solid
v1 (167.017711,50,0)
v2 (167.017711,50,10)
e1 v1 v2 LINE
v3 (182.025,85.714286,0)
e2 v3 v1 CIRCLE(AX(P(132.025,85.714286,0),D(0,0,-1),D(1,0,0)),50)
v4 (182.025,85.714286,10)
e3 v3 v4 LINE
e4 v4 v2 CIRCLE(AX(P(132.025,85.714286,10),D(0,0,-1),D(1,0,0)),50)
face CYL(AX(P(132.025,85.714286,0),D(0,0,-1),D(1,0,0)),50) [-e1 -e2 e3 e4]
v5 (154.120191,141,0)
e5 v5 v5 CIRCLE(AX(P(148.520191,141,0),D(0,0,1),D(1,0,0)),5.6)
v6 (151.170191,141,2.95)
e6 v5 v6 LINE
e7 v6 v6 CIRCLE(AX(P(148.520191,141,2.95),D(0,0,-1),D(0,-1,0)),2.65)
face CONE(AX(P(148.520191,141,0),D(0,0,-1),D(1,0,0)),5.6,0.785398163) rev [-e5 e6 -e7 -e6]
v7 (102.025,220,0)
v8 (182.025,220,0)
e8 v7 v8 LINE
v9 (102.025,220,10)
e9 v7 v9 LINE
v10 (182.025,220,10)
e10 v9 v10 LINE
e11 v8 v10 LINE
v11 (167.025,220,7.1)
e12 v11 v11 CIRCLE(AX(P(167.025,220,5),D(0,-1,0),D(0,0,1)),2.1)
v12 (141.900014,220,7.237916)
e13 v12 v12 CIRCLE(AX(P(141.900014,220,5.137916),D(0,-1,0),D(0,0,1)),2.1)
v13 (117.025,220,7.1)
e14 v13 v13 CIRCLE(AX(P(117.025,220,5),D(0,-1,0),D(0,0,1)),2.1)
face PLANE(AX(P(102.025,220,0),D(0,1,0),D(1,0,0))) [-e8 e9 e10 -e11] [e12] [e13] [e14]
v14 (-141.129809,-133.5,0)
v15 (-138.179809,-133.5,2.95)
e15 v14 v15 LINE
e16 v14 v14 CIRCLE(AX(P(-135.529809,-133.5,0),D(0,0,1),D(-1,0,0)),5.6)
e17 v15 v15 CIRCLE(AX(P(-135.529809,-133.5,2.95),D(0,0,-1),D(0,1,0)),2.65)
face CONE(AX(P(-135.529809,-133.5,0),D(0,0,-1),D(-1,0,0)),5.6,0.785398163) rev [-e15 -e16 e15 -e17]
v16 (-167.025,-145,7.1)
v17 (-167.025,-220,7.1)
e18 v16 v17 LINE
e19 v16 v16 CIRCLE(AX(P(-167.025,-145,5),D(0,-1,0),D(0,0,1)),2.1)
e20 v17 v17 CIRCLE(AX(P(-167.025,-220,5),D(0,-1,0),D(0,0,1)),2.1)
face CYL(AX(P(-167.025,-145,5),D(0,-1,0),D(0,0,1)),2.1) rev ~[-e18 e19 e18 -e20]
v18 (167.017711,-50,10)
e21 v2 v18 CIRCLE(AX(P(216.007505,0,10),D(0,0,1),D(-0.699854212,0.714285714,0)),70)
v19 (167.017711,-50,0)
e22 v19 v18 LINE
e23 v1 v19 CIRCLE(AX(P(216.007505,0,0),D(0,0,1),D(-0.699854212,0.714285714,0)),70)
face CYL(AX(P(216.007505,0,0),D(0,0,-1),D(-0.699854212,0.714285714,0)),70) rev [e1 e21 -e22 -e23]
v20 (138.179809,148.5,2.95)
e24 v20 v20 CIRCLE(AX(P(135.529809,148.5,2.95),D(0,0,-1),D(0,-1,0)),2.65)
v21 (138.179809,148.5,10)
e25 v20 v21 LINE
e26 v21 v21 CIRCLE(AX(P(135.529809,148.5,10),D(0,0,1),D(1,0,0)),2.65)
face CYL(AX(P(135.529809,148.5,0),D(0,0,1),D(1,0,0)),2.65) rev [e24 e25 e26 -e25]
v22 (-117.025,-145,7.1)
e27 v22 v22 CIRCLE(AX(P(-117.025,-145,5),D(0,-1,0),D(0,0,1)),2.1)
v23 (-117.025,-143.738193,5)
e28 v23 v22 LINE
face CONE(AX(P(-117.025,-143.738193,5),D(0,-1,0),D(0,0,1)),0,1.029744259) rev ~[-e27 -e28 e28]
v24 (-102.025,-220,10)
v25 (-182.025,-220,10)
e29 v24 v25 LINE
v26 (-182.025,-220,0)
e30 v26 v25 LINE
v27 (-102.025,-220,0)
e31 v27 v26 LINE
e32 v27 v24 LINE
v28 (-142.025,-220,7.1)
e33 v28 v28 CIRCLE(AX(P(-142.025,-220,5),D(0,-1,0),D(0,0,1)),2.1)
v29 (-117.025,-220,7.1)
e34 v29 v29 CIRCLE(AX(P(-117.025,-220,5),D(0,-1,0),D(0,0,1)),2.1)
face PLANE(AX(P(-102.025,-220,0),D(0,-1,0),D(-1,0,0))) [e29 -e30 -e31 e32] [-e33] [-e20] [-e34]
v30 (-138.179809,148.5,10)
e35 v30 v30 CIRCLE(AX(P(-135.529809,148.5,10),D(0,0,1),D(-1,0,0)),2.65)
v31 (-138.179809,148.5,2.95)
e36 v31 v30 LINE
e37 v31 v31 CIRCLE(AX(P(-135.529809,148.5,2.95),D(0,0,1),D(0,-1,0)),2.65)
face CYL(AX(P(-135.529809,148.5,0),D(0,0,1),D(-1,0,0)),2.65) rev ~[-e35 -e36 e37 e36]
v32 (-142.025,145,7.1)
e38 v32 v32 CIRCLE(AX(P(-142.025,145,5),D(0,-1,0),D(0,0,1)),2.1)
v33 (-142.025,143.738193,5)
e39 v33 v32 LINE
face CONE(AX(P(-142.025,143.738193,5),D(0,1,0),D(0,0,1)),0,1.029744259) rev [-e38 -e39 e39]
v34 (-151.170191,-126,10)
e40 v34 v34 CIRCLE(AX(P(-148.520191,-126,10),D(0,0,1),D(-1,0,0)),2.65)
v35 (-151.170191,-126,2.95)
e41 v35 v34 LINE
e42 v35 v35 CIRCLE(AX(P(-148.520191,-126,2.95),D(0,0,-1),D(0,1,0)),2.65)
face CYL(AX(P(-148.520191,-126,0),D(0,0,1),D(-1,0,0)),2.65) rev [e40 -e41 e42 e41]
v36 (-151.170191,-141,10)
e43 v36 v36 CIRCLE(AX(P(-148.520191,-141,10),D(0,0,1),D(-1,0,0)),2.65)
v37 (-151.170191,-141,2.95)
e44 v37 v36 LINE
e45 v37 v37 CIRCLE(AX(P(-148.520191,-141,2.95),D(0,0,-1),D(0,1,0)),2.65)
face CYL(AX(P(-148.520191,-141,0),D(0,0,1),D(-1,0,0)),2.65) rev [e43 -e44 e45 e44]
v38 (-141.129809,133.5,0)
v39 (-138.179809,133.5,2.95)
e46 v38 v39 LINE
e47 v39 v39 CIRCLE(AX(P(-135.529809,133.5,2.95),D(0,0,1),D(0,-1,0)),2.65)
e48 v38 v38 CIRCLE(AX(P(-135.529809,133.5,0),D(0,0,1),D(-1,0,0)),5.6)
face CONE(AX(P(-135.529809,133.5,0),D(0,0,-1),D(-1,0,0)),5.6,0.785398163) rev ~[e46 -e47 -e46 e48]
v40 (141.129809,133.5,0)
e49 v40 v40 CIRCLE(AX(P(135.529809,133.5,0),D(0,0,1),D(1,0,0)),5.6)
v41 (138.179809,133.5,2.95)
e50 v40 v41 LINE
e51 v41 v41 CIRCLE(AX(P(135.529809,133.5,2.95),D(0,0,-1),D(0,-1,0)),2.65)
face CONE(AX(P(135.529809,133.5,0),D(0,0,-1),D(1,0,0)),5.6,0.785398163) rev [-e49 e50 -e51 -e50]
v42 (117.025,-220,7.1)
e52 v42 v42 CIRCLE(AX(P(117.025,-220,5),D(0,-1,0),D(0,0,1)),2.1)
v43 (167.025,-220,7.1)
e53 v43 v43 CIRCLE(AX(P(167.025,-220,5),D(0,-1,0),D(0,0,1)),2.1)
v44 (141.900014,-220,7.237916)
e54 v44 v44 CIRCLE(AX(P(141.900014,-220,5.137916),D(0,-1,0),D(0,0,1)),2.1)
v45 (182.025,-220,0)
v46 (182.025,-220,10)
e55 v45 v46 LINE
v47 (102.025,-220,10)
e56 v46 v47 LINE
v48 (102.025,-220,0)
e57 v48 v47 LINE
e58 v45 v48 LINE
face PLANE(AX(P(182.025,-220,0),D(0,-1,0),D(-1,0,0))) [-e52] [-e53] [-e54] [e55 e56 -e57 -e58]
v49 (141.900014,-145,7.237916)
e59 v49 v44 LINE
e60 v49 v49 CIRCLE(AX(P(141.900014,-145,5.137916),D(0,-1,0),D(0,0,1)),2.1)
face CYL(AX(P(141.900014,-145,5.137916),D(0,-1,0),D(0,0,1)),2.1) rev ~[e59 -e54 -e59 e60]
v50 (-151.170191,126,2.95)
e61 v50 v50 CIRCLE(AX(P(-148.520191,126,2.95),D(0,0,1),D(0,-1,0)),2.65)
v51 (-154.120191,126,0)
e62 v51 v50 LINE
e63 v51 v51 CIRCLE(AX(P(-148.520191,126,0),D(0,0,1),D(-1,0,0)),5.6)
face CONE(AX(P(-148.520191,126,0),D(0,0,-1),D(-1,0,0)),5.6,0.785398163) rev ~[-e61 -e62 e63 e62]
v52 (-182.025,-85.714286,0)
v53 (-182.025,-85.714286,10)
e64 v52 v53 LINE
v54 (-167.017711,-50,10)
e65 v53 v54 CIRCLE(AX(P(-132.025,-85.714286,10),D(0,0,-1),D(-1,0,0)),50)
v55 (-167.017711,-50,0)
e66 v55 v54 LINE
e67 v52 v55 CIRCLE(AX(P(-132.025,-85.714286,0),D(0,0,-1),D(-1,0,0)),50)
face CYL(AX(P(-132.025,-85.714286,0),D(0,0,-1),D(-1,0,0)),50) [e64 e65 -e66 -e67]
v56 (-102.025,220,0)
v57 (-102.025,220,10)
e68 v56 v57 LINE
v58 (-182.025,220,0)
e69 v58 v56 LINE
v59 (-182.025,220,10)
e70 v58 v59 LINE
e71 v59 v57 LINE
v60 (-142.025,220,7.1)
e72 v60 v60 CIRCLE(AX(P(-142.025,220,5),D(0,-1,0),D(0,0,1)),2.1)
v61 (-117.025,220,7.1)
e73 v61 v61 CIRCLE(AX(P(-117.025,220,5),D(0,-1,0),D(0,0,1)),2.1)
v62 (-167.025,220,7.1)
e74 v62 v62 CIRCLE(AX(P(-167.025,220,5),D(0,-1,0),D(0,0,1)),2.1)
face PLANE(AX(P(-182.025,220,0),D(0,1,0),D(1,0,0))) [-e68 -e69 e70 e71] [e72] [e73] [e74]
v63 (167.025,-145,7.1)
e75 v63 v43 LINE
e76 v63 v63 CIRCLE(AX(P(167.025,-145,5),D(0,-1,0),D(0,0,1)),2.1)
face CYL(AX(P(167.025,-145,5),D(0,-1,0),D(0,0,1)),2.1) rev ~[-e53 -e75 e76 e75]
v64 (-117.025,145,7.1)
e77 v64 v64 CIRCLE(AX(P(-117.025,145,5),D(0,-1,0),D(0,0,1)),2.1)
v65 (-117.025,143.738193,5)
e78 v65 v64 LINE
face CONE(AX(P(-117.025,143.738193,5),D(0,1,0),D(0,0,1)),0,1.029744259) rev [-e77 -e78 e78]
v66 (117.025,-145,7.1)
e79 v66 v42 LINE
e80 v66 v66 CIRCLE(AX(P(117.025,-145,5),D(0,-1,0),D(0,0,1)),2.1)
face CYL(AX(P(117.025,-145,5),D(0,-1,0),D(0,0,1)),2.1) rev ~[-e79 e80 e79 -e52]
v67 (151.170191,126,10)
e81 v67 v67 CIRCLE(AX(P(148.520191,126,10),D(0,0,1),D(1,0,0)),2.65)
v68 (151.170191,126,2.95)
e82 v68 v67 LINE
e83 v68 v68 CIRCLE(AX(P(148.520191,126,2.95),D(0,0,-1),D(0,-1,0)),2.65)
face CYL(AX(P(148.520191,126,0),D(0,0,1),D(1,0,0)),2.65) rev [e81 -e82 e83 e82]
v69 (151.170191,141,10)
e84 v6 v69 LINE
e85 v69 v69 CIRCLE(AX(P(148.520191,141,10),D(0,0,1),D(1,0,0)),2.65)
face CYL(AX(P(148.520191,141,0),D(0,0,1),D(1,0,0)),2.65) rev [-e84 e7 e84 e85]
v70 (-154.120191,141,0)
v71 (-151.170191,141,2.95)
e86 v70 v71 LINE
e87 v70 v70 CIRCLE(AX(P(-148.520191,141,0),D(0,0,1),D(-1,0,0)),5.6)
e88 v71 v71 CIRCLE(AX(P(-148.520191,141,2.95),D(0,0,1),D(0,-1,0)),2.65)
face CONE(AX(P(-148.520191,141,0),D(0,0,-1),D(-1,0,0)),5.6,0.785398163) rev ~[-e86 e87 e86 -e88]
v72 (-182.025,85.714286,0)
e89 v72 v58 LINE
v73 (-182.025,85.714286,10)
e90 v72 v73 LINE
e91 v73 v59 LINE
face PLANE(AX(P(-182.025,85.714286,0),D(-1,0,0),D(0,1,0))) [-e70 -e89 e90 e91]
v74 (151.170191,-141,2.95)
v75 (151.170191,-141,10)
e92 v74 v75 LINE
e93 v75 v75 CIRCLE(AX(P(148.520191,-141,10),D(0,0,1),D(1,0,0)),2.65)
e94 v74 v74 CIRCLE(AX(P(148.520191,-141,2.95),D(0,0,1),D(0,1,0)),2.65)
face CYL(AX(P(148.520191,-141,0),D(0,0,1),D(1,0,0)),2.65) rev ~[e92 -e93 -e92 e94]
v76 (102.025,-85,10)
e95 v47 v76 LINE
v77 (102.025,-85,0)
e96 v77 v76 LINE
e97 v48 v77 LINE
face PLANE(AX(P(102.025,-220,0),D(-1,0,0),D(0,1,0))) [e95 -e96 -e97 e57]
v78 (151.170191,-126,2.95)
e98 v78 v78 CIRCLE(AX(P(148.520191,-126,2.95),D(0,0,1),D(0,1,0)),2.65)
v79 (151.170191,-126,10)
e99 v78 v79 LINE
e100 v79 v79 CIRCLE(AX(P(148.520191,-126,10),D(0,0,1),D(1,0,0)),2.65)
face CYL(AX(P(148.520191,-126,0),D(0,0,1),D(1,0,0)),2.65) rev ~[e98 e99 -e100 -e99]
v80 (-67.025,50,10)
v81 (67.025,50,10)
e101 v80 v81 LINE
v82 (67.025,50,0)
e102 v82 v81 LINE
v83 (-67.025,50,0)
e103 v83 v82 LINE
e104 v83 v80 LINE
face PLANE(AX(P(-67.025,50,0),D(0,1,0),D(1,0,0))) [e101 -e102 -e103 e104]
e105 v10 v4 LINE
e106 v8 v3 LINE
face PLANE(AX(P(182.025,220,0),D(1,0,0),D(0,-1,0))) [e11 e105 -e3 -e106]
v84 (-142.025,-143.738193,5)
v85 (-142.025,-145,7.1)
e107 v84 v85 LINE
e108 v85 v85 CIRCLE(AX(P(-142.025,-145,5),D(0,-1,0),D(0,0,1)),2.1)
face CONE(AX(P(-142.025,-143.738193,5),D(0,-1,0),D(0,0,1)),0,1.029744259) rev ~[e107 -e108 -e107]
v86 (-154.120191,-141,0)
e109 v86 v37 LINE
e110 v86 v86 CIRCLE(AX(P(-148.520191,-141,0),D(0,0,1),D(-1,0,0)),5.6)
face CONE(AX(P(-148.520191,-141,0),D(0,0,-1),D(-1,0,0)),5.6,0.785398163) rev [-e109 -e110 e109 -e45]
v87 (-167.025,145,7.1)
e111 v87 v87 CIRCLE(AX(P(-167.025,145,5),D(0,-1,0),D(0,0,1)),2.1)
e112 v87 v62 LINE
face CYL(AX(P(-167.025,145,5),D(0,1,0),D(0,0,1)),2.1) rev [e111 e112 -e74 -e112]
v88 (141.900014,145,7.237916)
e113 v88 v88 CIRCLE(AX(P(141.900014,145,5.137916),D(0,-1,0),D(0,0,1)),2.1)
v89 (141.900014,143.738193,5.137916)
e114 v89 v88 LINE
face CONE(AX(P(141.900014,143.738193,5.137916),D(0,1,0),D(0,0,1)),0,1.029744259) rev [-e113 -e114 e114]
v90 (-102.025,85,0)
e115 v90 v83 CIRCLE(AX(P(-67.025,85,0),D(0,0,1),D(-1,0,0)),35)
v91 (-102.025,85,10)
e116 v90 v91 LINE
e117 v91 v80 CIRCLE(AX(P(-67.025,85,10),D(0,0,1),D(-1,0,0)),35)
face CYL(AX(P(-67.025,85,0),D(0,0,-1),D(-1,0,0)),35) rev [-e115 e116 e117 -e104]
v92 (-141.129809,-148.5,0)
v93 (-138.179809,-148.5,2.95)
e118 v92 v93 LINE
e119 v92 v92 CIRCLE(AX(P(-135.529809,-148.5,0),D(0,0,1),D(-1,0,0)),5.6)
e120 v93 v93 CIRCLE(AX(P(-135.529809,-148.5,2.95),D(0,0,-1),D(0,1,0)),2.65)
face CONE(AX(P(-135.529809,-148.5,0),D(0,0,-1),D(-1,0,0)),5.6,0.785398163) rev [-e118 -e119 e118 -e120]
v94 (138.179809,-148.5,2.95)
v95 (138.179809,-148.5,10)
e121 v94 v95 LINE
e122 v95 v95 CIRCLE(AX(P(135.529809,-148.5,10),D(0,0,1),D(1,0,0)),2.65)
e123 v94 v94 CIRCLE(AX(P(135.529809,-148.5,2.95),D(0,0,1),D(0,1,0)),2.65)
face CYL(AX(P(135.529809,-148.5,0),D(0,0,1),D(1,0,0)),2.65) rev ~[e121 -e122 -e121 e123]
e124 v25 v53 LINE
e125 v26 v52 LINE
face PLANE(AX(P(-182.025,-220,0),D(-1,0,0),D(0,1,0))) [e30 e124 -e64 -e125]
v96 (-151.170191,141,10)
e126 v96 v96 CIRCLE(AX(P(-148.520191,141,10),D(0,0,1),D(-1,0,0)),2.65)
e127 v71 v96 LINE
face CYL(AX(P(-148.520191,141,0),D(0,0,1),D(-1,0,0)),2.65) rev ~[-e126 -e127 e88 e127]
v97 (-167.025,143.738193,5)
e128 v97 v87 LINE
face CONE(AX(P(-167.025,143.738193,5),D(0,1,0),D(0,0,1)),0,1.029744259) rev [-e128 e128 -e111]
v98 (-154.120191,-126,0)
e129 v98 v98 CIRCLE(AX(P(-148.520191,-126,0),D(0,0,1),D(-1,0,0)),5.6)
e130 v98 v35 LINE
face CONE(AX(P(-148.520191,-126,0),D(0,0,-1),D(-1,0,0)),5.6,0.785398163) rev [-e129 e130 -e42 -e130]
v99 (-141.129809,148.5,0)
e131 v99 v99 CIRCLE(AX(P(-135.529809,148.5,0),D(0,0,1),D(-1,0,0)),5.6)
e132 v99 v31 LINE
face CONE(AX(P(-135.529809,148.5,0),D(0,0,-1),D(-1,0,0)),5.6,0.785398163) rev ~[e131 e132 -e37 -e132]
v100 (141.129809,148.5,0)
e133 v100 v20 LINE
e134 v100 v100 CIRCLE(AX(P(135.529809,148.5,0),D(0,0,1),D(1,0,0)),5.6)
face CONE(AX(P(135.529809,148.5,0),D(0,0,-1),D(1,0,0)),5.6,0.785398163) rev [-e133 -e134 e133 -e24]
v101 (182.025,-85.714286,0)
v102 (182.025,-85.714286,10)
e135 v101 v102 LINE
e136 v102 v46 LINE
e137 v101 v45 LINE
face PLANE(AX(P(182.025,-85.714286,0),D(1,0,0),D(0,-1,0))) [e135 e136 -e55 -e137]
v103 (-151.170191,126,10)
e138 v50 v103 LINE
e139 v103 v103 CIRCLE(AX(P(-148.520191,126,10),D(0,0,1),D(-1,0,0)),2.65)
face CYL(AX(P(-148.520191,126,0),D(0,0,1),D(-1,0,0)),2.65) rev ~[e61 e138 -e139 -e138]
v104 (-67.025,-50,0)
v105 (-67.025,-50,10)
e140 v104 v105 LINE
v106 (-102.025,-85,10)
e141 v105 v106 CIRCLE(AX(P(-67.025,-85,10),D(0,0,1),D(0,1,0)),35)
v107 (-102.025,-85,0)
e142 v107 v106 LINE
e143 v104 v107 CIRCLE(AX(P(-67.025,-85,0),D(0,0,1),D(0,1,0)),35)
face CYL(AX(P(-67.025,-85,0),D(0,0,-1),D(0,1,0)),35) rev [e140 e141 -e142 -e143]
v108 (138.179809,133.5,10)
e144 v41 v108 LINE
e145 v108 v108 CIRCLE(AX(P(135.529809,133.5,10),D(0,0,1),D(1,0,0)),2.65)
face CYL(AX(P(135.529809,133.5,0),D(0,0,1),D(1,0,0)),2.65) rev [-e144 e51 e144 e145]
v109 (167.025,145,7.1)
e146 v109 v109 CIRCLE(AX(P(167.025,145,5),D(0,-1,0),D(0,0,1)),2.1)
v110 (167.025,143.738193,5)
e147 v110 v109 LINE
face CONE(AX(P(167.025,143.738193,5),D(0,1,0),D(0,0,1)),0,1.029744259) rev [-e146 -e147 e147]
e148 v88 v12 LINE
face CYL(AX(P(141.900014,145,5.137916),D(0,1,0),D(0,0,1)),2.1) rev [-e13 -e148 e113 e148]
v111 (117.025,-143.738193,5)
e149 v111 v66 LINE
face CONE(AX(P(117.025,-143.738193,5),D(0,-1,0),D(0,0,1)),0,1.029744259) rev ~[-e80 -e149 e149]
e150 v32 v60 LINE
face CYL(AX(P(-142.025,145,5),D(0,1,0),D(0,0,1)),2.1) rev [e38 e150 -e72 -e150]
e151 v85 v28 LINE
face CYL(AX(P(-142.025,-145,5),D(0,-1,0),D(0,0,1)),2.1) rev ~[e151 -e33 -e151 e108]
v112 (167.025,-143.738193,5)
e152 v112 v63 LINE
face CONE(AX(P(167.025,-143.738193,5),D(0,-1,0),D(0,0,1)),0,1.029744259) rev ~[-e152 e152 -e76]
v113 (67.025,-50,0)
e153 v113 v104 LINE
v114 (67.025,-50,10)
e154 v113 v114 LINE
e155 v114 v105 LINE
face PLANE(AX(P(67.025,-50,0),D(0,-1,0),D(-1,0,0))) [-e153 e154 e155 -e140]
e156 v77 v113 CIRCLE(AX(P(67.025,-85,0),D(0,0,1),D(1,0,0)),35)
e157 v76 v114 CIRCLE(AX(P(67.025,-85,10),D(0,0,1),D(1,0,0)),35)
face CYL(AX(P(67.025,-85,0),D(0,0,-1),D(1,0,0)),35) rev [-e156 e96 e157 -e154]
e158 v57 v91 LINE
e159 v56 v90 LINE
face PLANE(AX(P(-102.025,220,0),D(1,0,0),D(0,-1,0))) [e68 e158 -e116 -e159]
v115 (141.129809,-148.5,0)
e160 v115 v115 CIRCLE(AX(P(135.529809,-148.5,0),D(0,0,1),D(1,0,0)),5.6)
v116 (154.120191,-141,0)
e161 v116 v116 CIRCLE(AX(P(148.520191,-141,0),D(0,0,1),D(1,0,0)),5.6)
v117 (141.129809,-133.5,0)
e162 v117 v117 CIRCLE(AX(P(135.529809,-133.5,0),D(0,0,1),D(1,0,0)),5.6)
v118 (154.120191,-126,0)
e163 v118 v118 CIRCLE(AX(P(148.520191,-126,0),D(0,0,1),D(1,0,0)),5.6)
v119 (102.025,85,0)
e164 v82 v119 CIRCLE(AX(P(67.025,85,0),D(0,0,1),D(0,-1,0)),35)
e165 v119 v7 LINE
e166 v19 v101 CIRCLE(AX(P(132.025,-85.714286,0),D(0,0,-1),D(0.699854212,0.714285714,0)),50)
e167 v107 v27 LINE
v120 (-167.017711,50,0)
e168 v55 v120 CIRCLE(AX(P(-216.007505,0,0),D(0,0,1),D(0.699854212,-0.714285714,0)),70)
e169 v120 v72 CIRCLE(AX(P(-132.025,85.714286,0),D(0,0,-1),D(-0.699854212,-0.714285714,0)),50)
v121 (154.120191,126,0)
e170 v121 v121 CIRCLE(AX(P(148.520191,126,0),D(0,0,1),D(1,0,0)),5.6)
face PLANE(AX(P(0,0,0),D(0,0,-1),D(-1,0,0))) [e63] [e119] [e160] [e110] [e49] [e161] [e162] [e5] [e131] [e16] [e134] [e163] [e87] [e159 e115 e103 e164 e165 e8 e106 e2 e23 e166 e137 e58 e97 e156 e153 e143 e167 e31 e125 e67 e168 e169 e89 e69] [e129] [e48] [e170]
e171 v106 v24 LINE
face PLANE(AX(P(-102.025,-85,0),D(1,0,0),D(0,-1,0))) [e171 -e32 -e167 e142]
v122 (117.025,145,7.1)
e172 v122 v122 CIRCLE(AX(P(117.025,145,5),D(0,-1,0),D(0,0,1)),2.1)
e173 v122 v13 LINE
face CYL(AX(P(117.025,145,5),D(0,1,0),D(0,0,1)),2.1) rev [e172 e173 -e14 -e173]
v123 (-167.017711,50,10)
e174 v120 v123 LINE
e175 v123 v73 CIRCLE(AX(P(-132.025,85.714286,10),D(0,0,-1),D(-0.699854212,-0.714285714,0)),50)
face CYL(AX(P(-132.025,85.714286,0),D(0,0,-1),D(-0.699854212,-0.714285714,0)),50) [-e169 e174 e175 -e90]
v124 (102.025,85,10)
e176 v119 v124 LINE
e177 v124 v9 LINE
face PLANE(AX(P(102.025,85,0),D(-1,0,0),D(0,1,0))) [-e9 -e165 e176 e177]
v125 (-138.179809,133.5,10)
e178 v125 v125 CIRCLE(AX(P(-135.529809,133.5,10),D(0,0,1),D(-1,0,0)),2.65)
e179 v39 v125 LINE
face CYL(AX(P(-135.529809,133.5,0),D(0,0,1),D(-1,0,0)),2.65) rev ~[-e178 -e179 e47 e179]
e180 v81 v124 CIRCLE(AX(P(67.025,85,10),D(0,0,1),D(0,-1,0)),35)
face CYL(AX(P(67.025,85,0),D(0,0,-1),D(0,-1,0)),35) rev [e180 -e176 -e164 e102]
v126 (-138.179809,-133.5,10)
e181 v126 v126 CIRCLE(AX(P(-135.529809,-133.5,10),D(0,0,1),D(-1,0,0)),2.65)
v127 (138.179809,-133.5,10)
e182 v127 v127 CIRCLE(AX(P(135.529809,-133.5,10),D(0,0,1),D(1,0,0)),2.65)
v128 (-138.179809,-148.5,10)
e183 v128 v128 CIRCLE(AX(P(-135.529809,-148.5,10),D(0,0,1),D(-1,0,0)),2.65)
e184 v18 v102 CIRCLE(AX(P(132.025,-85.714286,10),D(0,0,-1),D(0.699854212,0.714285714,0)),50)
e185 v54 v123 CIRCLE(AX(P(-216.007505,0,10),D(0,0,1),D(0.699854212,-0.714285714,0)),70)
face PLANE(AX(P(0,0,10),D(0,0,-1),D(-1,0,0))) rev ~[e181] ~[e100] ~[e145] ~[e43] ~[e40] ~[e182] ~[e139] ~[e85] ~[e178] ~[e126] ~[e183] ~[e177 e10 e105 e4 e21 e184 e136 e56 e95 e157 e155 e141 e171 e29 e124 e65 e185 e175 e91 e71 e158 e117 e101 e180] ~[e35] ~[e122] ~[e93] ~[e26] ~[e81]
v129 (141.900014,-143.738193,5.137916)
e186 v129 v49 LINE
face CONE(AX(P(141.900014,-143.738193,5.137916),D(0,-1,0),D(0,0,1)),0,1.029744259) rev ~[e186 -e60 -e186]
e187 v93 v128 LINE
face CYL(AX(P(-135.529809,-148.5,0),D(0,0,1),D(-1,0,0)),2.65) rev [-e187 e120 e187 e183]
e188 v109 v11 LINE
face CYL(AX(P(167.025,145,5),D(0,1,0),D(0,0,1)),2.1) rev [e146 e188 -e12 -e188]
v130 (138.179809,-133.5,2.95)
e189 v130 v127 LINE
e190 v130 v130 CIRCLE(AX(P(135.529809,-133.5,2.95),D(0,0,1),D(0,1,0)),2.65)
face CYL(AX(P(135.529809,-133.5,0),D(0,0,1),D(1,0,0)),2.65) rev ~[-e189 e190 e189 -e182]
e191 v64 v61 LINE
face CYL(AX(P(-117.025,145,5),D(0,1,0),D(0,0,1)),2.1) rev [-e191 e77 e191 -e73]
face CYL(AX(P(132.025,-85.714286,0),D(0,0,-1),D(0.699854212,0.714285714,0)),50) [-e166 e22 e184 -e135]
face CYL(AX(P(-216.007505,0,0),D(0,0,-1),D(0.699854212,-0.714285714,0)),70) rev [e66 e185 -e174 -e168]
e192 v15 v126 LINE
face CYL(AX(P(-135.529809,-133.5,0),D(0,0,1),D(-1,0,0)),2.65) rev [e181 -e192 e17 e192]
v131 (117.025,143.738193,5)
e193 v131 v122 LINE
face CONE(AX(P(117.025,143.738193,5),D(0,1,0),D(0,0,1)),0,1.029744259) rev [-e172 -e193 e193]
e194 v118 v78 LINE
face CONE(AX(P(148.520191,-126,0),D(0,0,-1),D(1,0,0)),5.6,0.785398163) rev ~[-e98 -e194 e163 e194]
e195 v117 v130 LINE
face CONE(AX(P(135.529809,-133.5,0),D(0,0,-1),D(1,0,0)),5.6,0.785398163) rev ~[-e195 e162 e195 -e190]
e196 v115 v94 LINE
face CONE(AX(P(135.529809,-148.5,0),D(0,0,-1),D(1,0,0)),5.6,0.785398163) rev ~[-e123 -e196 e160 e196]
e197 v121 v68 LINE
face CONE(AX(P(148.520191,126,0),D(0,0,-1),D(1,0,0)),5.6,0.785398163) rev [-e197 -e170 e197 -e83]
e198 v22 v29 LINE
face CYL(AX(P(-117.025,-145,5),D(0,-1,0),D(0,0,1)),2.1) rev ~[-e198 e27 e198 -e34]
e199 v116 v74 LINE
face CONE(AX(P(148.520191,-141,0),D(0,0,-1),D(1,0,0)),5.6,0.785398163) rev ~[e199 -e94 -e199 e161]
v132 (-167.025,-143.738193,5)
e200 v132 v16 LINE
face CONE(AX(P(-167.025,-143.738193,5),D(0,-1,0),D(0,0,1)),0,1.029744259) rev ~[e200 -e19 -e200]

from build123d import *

# Parameters (mm, degrees)
SALIENTE_EXTRUIR1_DEPTH                              = 10
PERFORADOR_PARA_ROSCAR_PARA_MACHO_DE_2_COUNT         = 2
PERFORADOR_PARA_ROSCAR_PARA_MACHO_DE_2_PITCH         = 50
PERFORADOR_PARA_ROSCAR_PARA_MACHO_DE_3_COUNT         = 2
PERFORADOR_PARA_ROSCAR_PARA_MACHO_DE_3_PITCH         = 114.274917137
PERFORADOR_PARA_ROSCAR_PARA_MACHO_DE_4_COUNT         = 2
PERFORADOR_PARA_ROSCAR_PARA_MACHO_DE_4_PITCH         = 25
PERFORADOR_PARA_ROSCAR_PARA_MACHO_DE_5_A_COUNT       = 2
PERFORADOR_PARA_ROSCAR_PARA_MACHO_DE_5_A_PITCH       = 50
PERFORADOR_PARA_ROSCAR_PARA_MACHO_DE_6_COUNT         = 2
PERFORADOR_PARA_ROSCAR_PARA_MACHO_DE_6_PITCH         = 24.875395913
REFRENTADO_PARA_TORNILLO_TAP_N_CON_CABEZ_D           = 5.3
REFRENTADO_PARA_TORNILLO_TAP_N_CON_CABEZ_CSINK_D     = 11.2
REFRENTADO_PARA_TORNILLO_TAP_N_CON_CABEZ_CSINK_ANGLE = 90
SIMETR_A3_COPY_1_D                                   = 5.3
SIMETR_A3_COPY_1_CSINK_D                             = 11.2
SIMETR_A3_COPY_1_CSINK_ANGLE                         = 90


with BuildPart() as part:
    # Croquis1 → Saliente-Extruir1 (new body)
    with BuildSketch(Plane.XY):
        with BuildLine():
            Line((-67.025, 50), (67.025, 50))
            ThreePointArc((67.025, 50), (91.773737342, 60.251262658), (102.025, 85))
            Line((102.025, 85), (102.025, 220))
            Line((102.025, 220), (182.025, 220))
            Line((182.025, 220), (182.025, 85.714285714))
            ThreePointArc((182.025, 85.714285714), (178.120745631, 66.344664275), (167.017710611, 50))
            ThreePointArc((167.017710611, 50), (146.007505467, 0), (167.017710611, -50))
            ThreePointArc((167.017710611, -50), (178.120745631, -66.344664275), (182.025, -85.714285714))
            Line((182.025, -85.714285714), (182.025, -220))
            Line((182.025, -220), (102.025, -220))
            Line((102.025, -220), (102.025, -85))
            ThreePointArc((102.025, -85), (91.773737342, -60.251262658), (67.025, -50))
            Line((67.025, -50), (-67.025, -50))
            ThreePointArc((-67.025, -50), (-91.773737342, -60.251262658), (-102.025, -85))
            Line((-102.025, -85), (-102.025, -220))
            Line((-102.025, -220), (-182.025, -220))
            Line((-182.025, -220), (-182.025, -85.714285714))
            ThreePointArc((-182.025, -85.714285714), (-178.120745631, -66.344664275), (-167.017710611, -50))
            ThreePointArc((-167.017710611, -50), (-146.007505467, 0), (-167.017710611, 50))
            ThreePointArc((-167.017710611, 50), (-178.120745631, 66.344664275), (-182.025, 85.714285714))
            Line((-182.025, 85.714285714), (-182.025, 220))
            Line((-182.025, 220), (-102.025, 220))
            Line((-102.025, 220), (-102.025, 85))
            ThreePointArc((-102.025, 85), (-91.773737342, 60.251262658), (-67.025, 50))
        make_face()
    extrude(amount=SALIENTE_EXTRUIR1_DEPTH)

    # Croquis3 → Perforador para roscar para macho de ros (revolve, cut)
    with BuildSketch(Plane(origin=(-167.025, 220, 5), x_dir=(0, 0, 1), z_dir=(1, 0, 0))):
        Polygon((0, 0), (0, 76.2618073), (2.1, 75), (2.1, 0), align=None)
    perforador_para_roscar_para_macho_de_ros = revolve(axis=Axis((-167.025, 226.35, 5), (0, -1, 0)), mode=Mode.SUBTRACT)

    # Perforador para roscar para macho de 2: Perforador para roscar para macho de ros ×2
    with Locations(*[(i * PERFORADOR_PARA_ROSCAR_PARA_MACHO_DE_2_PITCH, 0, 0) for i in range(1, PERFORADOR_PARA_ROSCAR_PARA_MACHO_DE_2_COUNT)]):
        add(perforador_para_roscar_para_macho_de_ros, mode=Mode.SUBTRACT)

    # Perforador para roscar para macho de 3: Perforador para roscar para macho de ros ×2
    with Locations(*[Vector(-0.9105437359751597, 0, -0.4134127536450694) * (i * PERFORADOR_PARA_ROSCAR_PARA_MACHO_DE_3_PITCH) for i in range(1, PERFORADOR_PARA_ROSCAR_PARA_MACHO_DE_3_COUNT)]):
        add(perforador_para_roscar_para_macho_de_ros, mode=Mode.SUBTRACT)

    # Perforador para roscar para macho de 4: Perforador para roscar para macho de ros ×2
    with Locations(*[(i * PERFORADOR_PARA_ROSCAR_PARA_MACHO_DE_4_PITCH, 0, 0) for i in range(1, PERFORADOR_PARA_ROSCAR_PARA_MACHO_DE_4_COUNT)]):
        add(perforador_para_roscar_para_macho_de_ros, mode=Mode.SUBTRACT)

    # Croquis5 → Perforador para roscar para macho de 5 (revolve, cut)
    with BuildSketch(Plane(origin=(117.025, 220, 5), x_dir=(0, 0, 1), z_dir=(1, 0, 0))):
        Polygon((0, 0), (0, 76.2618073), (2.1, 75), (2.1, 0), align=None)
    perforador_para_roscar_para_macho_de_5 = revolve(axis=Axis((117.025, 226.35, 5), (0, -1, 0)), mode=Mode.SUBTRACT)

    # Perforador para roscar para macho de 5 a: Perforador para roscar para macho de 5 ×2
    with Locations(*[(i * PERFORADOR_PARA_ROSCAR_PARA_MACHO_DE_5_A_PITCH, 0, 0) for i in range(1, PERFORADOR_PARA_ROSCAR_PARA_MACHO_DE_5_A_COUNT)]):
        add(perforador_para_roscar_para_macho_de_5, mode=Mode.SUBTRACT)

    # Perforador para roscar para macho de 6: Perforador para roscar para macho de 5 ×2
    with Locations(*[Vector(0.9999846303252095, 0, 0.005544286550521713) * (i * PERFORADOR_PARA_ROSCAR_PARA_MACHO_DE_6_PITCH) for i in range(1, PERFORADOR_PARA_ROSCAR_PARA_MACHO_DE_6_COUNT)]):
        add(perforador_para_roscar_para_macho_de_5, mode=Mode.SUBTRACT)

    # Simetría1: Perforador para roscar para macho de ros, Perforador para roscar para macho de 5 across plane
    add(perforador_para_roscar_para_macho_de_ros.mirror(Plane.ZX), mode=Mode.SUBTRACT)
    add(perforador_para_roscar_para_macho_de_5.mirror(Plane.ZX), mode=Mode.SUBTRACT)

    # Simetría1 copy 1 sketch → Simetría1 copy 1 (revolve, cut)
    with BuildSketch(Plane(origin=(-117.025, -220, 5), x_dir=(0, 0, 1), z_dir=(1, 0, 0))):
        Polygon((0, 0), (0, -76.2618073), (2.1, -75), (2.1, 0), align=None)
    revolve(axis=Axis((-117.025, -226.35, 5), (0, -1, 0)), mode=Mode.SUBTRACT)

    # Simetría1 copy 2 sketch → Simetría1 copy 2 (revolve, cut)
    with BuildSketch(Plane(origin=(-271.077309978, -220, -42.242708166), x_dir=(0, 0, 1), z_dir=(1, 0, 0))):
        Polygon((0, 0), (0, -76.2618073), (2.1, -75), (2.1, 0), align=None)
    revolve(axis=Axis((-271.077309978, -226.35, -42.242708166), (0, -1, 0)), mode=Mode.SUBTRACT)

    # Simetría1 copy 3 sketch → Simetría1 copy 3 (revolve, cut)
    with BuildSketch(Plane(origin=(-142.025, -220, 5), x_dir=(0, 0, 1), z_dir=(1, 0, 0))):
        Polygon((0, 0), (0, -76.2618073), (2.1, -75), (2.1, 0), align=None)
    revolve(axis=Axis((-142.025, -226.35, 5), (0, -1, 0)), mode=Mode.SUBTRACT)

    # Simetría1 copy 4 sketch → Simetría1 copy 4 (revolve, cut)
    with BuildSketch(Plane(origin=(167.025, -220, 5), x_dir=(0, 0, 1), z_dir=(1, 0, 0))):
        Polygon((0, 0), (0, -76.2618073), (2.1, -75), (2.1, 0), align=None)
    revolve(axis=Axis((167.025, -226.35, 5), (0, -1, 0)), mode=Mode.SUBTRACT)

    # Simetría1 copy 5 sketch → Simetría1 copy 5 (revolve, cut)
    with BuildSketch(Plane(origin=(141.900013587, -220, 5.137916323), x_dir=(0, 0, 1), z_dir=(1, 0, 0))):
        Polygon((0, 0), (0, -76.2618073), (2.1, -75), (2.1, 0), align=None)
    revolve(axis=Axis((141.900013587, -226.35, 5.137916323), (0, -1, 0)), mode=Mode.SUBTRACT)

    # Refrentado para tornillo tapón con cabeza plana de clavija de M51 (through all)
    with Locations(Plane(origin=(148.520190528, -141, 0), x_dir=(-1, 0, 0), z_dir=(0, 0, -1))):
        with Locations((0, 0), (12.990381056, 7.5), (12.990381056, -7.5), (0, 15)):
            refrentado_para_tornillo_tap_n_con_cabez = CounterSinkHole(REFRENTADO_PARA_TORNILLO_TAP_N_CON_CABEZ_D / 2, REFRENTADO_PARA_TORNILLO_TAP_N_CON_CABEZ_CSINK_D / 2, counter_sink_angle=REFRENTADO_PARA_TORNILLO_TAP_N_CON_CABEZ_CSINK_ANGLE)

    # Simetría2: Refrentado para tornillo tapón con cabeza plana de clavija de M51 across plane
    add(refrentado_para_tornillo_tap_n_con_cabez.mirror(Plane.ZX), mode=Mode.SUBTRACT)

    # Simetría3: Refrentado para tornillo tapón con cabeza plana de clavija de M51 across plane
    add(refrentado_para_tornillo_tap_n_con_cabez.mirror(Plane(origin=(0, 0, 0), x_dir=(0, 0, 1), z_dir=(1, 0, 0))), mode=Mode.SUBTRACT)

    # Simetría3 copy 1 (through all)
    with Locations(Plane(origin=(-148.520190528, 141, 0), x_dir=(1, 0, 0), z_dir=(0, 0, -1))):
        with Locations((0, 0), (12.990381056, 7.5), (12.990381056, -7.5), (0, 15)):
            CounterSinkHole(SIMETR_A3_COPY_1_D / 2, SIMETR_A3_COPY_1_CSINK_D / 2, counter_sink_angle=SIMETR_A3_COPY_1_CSINK_ANGLE)


solid = part.part
